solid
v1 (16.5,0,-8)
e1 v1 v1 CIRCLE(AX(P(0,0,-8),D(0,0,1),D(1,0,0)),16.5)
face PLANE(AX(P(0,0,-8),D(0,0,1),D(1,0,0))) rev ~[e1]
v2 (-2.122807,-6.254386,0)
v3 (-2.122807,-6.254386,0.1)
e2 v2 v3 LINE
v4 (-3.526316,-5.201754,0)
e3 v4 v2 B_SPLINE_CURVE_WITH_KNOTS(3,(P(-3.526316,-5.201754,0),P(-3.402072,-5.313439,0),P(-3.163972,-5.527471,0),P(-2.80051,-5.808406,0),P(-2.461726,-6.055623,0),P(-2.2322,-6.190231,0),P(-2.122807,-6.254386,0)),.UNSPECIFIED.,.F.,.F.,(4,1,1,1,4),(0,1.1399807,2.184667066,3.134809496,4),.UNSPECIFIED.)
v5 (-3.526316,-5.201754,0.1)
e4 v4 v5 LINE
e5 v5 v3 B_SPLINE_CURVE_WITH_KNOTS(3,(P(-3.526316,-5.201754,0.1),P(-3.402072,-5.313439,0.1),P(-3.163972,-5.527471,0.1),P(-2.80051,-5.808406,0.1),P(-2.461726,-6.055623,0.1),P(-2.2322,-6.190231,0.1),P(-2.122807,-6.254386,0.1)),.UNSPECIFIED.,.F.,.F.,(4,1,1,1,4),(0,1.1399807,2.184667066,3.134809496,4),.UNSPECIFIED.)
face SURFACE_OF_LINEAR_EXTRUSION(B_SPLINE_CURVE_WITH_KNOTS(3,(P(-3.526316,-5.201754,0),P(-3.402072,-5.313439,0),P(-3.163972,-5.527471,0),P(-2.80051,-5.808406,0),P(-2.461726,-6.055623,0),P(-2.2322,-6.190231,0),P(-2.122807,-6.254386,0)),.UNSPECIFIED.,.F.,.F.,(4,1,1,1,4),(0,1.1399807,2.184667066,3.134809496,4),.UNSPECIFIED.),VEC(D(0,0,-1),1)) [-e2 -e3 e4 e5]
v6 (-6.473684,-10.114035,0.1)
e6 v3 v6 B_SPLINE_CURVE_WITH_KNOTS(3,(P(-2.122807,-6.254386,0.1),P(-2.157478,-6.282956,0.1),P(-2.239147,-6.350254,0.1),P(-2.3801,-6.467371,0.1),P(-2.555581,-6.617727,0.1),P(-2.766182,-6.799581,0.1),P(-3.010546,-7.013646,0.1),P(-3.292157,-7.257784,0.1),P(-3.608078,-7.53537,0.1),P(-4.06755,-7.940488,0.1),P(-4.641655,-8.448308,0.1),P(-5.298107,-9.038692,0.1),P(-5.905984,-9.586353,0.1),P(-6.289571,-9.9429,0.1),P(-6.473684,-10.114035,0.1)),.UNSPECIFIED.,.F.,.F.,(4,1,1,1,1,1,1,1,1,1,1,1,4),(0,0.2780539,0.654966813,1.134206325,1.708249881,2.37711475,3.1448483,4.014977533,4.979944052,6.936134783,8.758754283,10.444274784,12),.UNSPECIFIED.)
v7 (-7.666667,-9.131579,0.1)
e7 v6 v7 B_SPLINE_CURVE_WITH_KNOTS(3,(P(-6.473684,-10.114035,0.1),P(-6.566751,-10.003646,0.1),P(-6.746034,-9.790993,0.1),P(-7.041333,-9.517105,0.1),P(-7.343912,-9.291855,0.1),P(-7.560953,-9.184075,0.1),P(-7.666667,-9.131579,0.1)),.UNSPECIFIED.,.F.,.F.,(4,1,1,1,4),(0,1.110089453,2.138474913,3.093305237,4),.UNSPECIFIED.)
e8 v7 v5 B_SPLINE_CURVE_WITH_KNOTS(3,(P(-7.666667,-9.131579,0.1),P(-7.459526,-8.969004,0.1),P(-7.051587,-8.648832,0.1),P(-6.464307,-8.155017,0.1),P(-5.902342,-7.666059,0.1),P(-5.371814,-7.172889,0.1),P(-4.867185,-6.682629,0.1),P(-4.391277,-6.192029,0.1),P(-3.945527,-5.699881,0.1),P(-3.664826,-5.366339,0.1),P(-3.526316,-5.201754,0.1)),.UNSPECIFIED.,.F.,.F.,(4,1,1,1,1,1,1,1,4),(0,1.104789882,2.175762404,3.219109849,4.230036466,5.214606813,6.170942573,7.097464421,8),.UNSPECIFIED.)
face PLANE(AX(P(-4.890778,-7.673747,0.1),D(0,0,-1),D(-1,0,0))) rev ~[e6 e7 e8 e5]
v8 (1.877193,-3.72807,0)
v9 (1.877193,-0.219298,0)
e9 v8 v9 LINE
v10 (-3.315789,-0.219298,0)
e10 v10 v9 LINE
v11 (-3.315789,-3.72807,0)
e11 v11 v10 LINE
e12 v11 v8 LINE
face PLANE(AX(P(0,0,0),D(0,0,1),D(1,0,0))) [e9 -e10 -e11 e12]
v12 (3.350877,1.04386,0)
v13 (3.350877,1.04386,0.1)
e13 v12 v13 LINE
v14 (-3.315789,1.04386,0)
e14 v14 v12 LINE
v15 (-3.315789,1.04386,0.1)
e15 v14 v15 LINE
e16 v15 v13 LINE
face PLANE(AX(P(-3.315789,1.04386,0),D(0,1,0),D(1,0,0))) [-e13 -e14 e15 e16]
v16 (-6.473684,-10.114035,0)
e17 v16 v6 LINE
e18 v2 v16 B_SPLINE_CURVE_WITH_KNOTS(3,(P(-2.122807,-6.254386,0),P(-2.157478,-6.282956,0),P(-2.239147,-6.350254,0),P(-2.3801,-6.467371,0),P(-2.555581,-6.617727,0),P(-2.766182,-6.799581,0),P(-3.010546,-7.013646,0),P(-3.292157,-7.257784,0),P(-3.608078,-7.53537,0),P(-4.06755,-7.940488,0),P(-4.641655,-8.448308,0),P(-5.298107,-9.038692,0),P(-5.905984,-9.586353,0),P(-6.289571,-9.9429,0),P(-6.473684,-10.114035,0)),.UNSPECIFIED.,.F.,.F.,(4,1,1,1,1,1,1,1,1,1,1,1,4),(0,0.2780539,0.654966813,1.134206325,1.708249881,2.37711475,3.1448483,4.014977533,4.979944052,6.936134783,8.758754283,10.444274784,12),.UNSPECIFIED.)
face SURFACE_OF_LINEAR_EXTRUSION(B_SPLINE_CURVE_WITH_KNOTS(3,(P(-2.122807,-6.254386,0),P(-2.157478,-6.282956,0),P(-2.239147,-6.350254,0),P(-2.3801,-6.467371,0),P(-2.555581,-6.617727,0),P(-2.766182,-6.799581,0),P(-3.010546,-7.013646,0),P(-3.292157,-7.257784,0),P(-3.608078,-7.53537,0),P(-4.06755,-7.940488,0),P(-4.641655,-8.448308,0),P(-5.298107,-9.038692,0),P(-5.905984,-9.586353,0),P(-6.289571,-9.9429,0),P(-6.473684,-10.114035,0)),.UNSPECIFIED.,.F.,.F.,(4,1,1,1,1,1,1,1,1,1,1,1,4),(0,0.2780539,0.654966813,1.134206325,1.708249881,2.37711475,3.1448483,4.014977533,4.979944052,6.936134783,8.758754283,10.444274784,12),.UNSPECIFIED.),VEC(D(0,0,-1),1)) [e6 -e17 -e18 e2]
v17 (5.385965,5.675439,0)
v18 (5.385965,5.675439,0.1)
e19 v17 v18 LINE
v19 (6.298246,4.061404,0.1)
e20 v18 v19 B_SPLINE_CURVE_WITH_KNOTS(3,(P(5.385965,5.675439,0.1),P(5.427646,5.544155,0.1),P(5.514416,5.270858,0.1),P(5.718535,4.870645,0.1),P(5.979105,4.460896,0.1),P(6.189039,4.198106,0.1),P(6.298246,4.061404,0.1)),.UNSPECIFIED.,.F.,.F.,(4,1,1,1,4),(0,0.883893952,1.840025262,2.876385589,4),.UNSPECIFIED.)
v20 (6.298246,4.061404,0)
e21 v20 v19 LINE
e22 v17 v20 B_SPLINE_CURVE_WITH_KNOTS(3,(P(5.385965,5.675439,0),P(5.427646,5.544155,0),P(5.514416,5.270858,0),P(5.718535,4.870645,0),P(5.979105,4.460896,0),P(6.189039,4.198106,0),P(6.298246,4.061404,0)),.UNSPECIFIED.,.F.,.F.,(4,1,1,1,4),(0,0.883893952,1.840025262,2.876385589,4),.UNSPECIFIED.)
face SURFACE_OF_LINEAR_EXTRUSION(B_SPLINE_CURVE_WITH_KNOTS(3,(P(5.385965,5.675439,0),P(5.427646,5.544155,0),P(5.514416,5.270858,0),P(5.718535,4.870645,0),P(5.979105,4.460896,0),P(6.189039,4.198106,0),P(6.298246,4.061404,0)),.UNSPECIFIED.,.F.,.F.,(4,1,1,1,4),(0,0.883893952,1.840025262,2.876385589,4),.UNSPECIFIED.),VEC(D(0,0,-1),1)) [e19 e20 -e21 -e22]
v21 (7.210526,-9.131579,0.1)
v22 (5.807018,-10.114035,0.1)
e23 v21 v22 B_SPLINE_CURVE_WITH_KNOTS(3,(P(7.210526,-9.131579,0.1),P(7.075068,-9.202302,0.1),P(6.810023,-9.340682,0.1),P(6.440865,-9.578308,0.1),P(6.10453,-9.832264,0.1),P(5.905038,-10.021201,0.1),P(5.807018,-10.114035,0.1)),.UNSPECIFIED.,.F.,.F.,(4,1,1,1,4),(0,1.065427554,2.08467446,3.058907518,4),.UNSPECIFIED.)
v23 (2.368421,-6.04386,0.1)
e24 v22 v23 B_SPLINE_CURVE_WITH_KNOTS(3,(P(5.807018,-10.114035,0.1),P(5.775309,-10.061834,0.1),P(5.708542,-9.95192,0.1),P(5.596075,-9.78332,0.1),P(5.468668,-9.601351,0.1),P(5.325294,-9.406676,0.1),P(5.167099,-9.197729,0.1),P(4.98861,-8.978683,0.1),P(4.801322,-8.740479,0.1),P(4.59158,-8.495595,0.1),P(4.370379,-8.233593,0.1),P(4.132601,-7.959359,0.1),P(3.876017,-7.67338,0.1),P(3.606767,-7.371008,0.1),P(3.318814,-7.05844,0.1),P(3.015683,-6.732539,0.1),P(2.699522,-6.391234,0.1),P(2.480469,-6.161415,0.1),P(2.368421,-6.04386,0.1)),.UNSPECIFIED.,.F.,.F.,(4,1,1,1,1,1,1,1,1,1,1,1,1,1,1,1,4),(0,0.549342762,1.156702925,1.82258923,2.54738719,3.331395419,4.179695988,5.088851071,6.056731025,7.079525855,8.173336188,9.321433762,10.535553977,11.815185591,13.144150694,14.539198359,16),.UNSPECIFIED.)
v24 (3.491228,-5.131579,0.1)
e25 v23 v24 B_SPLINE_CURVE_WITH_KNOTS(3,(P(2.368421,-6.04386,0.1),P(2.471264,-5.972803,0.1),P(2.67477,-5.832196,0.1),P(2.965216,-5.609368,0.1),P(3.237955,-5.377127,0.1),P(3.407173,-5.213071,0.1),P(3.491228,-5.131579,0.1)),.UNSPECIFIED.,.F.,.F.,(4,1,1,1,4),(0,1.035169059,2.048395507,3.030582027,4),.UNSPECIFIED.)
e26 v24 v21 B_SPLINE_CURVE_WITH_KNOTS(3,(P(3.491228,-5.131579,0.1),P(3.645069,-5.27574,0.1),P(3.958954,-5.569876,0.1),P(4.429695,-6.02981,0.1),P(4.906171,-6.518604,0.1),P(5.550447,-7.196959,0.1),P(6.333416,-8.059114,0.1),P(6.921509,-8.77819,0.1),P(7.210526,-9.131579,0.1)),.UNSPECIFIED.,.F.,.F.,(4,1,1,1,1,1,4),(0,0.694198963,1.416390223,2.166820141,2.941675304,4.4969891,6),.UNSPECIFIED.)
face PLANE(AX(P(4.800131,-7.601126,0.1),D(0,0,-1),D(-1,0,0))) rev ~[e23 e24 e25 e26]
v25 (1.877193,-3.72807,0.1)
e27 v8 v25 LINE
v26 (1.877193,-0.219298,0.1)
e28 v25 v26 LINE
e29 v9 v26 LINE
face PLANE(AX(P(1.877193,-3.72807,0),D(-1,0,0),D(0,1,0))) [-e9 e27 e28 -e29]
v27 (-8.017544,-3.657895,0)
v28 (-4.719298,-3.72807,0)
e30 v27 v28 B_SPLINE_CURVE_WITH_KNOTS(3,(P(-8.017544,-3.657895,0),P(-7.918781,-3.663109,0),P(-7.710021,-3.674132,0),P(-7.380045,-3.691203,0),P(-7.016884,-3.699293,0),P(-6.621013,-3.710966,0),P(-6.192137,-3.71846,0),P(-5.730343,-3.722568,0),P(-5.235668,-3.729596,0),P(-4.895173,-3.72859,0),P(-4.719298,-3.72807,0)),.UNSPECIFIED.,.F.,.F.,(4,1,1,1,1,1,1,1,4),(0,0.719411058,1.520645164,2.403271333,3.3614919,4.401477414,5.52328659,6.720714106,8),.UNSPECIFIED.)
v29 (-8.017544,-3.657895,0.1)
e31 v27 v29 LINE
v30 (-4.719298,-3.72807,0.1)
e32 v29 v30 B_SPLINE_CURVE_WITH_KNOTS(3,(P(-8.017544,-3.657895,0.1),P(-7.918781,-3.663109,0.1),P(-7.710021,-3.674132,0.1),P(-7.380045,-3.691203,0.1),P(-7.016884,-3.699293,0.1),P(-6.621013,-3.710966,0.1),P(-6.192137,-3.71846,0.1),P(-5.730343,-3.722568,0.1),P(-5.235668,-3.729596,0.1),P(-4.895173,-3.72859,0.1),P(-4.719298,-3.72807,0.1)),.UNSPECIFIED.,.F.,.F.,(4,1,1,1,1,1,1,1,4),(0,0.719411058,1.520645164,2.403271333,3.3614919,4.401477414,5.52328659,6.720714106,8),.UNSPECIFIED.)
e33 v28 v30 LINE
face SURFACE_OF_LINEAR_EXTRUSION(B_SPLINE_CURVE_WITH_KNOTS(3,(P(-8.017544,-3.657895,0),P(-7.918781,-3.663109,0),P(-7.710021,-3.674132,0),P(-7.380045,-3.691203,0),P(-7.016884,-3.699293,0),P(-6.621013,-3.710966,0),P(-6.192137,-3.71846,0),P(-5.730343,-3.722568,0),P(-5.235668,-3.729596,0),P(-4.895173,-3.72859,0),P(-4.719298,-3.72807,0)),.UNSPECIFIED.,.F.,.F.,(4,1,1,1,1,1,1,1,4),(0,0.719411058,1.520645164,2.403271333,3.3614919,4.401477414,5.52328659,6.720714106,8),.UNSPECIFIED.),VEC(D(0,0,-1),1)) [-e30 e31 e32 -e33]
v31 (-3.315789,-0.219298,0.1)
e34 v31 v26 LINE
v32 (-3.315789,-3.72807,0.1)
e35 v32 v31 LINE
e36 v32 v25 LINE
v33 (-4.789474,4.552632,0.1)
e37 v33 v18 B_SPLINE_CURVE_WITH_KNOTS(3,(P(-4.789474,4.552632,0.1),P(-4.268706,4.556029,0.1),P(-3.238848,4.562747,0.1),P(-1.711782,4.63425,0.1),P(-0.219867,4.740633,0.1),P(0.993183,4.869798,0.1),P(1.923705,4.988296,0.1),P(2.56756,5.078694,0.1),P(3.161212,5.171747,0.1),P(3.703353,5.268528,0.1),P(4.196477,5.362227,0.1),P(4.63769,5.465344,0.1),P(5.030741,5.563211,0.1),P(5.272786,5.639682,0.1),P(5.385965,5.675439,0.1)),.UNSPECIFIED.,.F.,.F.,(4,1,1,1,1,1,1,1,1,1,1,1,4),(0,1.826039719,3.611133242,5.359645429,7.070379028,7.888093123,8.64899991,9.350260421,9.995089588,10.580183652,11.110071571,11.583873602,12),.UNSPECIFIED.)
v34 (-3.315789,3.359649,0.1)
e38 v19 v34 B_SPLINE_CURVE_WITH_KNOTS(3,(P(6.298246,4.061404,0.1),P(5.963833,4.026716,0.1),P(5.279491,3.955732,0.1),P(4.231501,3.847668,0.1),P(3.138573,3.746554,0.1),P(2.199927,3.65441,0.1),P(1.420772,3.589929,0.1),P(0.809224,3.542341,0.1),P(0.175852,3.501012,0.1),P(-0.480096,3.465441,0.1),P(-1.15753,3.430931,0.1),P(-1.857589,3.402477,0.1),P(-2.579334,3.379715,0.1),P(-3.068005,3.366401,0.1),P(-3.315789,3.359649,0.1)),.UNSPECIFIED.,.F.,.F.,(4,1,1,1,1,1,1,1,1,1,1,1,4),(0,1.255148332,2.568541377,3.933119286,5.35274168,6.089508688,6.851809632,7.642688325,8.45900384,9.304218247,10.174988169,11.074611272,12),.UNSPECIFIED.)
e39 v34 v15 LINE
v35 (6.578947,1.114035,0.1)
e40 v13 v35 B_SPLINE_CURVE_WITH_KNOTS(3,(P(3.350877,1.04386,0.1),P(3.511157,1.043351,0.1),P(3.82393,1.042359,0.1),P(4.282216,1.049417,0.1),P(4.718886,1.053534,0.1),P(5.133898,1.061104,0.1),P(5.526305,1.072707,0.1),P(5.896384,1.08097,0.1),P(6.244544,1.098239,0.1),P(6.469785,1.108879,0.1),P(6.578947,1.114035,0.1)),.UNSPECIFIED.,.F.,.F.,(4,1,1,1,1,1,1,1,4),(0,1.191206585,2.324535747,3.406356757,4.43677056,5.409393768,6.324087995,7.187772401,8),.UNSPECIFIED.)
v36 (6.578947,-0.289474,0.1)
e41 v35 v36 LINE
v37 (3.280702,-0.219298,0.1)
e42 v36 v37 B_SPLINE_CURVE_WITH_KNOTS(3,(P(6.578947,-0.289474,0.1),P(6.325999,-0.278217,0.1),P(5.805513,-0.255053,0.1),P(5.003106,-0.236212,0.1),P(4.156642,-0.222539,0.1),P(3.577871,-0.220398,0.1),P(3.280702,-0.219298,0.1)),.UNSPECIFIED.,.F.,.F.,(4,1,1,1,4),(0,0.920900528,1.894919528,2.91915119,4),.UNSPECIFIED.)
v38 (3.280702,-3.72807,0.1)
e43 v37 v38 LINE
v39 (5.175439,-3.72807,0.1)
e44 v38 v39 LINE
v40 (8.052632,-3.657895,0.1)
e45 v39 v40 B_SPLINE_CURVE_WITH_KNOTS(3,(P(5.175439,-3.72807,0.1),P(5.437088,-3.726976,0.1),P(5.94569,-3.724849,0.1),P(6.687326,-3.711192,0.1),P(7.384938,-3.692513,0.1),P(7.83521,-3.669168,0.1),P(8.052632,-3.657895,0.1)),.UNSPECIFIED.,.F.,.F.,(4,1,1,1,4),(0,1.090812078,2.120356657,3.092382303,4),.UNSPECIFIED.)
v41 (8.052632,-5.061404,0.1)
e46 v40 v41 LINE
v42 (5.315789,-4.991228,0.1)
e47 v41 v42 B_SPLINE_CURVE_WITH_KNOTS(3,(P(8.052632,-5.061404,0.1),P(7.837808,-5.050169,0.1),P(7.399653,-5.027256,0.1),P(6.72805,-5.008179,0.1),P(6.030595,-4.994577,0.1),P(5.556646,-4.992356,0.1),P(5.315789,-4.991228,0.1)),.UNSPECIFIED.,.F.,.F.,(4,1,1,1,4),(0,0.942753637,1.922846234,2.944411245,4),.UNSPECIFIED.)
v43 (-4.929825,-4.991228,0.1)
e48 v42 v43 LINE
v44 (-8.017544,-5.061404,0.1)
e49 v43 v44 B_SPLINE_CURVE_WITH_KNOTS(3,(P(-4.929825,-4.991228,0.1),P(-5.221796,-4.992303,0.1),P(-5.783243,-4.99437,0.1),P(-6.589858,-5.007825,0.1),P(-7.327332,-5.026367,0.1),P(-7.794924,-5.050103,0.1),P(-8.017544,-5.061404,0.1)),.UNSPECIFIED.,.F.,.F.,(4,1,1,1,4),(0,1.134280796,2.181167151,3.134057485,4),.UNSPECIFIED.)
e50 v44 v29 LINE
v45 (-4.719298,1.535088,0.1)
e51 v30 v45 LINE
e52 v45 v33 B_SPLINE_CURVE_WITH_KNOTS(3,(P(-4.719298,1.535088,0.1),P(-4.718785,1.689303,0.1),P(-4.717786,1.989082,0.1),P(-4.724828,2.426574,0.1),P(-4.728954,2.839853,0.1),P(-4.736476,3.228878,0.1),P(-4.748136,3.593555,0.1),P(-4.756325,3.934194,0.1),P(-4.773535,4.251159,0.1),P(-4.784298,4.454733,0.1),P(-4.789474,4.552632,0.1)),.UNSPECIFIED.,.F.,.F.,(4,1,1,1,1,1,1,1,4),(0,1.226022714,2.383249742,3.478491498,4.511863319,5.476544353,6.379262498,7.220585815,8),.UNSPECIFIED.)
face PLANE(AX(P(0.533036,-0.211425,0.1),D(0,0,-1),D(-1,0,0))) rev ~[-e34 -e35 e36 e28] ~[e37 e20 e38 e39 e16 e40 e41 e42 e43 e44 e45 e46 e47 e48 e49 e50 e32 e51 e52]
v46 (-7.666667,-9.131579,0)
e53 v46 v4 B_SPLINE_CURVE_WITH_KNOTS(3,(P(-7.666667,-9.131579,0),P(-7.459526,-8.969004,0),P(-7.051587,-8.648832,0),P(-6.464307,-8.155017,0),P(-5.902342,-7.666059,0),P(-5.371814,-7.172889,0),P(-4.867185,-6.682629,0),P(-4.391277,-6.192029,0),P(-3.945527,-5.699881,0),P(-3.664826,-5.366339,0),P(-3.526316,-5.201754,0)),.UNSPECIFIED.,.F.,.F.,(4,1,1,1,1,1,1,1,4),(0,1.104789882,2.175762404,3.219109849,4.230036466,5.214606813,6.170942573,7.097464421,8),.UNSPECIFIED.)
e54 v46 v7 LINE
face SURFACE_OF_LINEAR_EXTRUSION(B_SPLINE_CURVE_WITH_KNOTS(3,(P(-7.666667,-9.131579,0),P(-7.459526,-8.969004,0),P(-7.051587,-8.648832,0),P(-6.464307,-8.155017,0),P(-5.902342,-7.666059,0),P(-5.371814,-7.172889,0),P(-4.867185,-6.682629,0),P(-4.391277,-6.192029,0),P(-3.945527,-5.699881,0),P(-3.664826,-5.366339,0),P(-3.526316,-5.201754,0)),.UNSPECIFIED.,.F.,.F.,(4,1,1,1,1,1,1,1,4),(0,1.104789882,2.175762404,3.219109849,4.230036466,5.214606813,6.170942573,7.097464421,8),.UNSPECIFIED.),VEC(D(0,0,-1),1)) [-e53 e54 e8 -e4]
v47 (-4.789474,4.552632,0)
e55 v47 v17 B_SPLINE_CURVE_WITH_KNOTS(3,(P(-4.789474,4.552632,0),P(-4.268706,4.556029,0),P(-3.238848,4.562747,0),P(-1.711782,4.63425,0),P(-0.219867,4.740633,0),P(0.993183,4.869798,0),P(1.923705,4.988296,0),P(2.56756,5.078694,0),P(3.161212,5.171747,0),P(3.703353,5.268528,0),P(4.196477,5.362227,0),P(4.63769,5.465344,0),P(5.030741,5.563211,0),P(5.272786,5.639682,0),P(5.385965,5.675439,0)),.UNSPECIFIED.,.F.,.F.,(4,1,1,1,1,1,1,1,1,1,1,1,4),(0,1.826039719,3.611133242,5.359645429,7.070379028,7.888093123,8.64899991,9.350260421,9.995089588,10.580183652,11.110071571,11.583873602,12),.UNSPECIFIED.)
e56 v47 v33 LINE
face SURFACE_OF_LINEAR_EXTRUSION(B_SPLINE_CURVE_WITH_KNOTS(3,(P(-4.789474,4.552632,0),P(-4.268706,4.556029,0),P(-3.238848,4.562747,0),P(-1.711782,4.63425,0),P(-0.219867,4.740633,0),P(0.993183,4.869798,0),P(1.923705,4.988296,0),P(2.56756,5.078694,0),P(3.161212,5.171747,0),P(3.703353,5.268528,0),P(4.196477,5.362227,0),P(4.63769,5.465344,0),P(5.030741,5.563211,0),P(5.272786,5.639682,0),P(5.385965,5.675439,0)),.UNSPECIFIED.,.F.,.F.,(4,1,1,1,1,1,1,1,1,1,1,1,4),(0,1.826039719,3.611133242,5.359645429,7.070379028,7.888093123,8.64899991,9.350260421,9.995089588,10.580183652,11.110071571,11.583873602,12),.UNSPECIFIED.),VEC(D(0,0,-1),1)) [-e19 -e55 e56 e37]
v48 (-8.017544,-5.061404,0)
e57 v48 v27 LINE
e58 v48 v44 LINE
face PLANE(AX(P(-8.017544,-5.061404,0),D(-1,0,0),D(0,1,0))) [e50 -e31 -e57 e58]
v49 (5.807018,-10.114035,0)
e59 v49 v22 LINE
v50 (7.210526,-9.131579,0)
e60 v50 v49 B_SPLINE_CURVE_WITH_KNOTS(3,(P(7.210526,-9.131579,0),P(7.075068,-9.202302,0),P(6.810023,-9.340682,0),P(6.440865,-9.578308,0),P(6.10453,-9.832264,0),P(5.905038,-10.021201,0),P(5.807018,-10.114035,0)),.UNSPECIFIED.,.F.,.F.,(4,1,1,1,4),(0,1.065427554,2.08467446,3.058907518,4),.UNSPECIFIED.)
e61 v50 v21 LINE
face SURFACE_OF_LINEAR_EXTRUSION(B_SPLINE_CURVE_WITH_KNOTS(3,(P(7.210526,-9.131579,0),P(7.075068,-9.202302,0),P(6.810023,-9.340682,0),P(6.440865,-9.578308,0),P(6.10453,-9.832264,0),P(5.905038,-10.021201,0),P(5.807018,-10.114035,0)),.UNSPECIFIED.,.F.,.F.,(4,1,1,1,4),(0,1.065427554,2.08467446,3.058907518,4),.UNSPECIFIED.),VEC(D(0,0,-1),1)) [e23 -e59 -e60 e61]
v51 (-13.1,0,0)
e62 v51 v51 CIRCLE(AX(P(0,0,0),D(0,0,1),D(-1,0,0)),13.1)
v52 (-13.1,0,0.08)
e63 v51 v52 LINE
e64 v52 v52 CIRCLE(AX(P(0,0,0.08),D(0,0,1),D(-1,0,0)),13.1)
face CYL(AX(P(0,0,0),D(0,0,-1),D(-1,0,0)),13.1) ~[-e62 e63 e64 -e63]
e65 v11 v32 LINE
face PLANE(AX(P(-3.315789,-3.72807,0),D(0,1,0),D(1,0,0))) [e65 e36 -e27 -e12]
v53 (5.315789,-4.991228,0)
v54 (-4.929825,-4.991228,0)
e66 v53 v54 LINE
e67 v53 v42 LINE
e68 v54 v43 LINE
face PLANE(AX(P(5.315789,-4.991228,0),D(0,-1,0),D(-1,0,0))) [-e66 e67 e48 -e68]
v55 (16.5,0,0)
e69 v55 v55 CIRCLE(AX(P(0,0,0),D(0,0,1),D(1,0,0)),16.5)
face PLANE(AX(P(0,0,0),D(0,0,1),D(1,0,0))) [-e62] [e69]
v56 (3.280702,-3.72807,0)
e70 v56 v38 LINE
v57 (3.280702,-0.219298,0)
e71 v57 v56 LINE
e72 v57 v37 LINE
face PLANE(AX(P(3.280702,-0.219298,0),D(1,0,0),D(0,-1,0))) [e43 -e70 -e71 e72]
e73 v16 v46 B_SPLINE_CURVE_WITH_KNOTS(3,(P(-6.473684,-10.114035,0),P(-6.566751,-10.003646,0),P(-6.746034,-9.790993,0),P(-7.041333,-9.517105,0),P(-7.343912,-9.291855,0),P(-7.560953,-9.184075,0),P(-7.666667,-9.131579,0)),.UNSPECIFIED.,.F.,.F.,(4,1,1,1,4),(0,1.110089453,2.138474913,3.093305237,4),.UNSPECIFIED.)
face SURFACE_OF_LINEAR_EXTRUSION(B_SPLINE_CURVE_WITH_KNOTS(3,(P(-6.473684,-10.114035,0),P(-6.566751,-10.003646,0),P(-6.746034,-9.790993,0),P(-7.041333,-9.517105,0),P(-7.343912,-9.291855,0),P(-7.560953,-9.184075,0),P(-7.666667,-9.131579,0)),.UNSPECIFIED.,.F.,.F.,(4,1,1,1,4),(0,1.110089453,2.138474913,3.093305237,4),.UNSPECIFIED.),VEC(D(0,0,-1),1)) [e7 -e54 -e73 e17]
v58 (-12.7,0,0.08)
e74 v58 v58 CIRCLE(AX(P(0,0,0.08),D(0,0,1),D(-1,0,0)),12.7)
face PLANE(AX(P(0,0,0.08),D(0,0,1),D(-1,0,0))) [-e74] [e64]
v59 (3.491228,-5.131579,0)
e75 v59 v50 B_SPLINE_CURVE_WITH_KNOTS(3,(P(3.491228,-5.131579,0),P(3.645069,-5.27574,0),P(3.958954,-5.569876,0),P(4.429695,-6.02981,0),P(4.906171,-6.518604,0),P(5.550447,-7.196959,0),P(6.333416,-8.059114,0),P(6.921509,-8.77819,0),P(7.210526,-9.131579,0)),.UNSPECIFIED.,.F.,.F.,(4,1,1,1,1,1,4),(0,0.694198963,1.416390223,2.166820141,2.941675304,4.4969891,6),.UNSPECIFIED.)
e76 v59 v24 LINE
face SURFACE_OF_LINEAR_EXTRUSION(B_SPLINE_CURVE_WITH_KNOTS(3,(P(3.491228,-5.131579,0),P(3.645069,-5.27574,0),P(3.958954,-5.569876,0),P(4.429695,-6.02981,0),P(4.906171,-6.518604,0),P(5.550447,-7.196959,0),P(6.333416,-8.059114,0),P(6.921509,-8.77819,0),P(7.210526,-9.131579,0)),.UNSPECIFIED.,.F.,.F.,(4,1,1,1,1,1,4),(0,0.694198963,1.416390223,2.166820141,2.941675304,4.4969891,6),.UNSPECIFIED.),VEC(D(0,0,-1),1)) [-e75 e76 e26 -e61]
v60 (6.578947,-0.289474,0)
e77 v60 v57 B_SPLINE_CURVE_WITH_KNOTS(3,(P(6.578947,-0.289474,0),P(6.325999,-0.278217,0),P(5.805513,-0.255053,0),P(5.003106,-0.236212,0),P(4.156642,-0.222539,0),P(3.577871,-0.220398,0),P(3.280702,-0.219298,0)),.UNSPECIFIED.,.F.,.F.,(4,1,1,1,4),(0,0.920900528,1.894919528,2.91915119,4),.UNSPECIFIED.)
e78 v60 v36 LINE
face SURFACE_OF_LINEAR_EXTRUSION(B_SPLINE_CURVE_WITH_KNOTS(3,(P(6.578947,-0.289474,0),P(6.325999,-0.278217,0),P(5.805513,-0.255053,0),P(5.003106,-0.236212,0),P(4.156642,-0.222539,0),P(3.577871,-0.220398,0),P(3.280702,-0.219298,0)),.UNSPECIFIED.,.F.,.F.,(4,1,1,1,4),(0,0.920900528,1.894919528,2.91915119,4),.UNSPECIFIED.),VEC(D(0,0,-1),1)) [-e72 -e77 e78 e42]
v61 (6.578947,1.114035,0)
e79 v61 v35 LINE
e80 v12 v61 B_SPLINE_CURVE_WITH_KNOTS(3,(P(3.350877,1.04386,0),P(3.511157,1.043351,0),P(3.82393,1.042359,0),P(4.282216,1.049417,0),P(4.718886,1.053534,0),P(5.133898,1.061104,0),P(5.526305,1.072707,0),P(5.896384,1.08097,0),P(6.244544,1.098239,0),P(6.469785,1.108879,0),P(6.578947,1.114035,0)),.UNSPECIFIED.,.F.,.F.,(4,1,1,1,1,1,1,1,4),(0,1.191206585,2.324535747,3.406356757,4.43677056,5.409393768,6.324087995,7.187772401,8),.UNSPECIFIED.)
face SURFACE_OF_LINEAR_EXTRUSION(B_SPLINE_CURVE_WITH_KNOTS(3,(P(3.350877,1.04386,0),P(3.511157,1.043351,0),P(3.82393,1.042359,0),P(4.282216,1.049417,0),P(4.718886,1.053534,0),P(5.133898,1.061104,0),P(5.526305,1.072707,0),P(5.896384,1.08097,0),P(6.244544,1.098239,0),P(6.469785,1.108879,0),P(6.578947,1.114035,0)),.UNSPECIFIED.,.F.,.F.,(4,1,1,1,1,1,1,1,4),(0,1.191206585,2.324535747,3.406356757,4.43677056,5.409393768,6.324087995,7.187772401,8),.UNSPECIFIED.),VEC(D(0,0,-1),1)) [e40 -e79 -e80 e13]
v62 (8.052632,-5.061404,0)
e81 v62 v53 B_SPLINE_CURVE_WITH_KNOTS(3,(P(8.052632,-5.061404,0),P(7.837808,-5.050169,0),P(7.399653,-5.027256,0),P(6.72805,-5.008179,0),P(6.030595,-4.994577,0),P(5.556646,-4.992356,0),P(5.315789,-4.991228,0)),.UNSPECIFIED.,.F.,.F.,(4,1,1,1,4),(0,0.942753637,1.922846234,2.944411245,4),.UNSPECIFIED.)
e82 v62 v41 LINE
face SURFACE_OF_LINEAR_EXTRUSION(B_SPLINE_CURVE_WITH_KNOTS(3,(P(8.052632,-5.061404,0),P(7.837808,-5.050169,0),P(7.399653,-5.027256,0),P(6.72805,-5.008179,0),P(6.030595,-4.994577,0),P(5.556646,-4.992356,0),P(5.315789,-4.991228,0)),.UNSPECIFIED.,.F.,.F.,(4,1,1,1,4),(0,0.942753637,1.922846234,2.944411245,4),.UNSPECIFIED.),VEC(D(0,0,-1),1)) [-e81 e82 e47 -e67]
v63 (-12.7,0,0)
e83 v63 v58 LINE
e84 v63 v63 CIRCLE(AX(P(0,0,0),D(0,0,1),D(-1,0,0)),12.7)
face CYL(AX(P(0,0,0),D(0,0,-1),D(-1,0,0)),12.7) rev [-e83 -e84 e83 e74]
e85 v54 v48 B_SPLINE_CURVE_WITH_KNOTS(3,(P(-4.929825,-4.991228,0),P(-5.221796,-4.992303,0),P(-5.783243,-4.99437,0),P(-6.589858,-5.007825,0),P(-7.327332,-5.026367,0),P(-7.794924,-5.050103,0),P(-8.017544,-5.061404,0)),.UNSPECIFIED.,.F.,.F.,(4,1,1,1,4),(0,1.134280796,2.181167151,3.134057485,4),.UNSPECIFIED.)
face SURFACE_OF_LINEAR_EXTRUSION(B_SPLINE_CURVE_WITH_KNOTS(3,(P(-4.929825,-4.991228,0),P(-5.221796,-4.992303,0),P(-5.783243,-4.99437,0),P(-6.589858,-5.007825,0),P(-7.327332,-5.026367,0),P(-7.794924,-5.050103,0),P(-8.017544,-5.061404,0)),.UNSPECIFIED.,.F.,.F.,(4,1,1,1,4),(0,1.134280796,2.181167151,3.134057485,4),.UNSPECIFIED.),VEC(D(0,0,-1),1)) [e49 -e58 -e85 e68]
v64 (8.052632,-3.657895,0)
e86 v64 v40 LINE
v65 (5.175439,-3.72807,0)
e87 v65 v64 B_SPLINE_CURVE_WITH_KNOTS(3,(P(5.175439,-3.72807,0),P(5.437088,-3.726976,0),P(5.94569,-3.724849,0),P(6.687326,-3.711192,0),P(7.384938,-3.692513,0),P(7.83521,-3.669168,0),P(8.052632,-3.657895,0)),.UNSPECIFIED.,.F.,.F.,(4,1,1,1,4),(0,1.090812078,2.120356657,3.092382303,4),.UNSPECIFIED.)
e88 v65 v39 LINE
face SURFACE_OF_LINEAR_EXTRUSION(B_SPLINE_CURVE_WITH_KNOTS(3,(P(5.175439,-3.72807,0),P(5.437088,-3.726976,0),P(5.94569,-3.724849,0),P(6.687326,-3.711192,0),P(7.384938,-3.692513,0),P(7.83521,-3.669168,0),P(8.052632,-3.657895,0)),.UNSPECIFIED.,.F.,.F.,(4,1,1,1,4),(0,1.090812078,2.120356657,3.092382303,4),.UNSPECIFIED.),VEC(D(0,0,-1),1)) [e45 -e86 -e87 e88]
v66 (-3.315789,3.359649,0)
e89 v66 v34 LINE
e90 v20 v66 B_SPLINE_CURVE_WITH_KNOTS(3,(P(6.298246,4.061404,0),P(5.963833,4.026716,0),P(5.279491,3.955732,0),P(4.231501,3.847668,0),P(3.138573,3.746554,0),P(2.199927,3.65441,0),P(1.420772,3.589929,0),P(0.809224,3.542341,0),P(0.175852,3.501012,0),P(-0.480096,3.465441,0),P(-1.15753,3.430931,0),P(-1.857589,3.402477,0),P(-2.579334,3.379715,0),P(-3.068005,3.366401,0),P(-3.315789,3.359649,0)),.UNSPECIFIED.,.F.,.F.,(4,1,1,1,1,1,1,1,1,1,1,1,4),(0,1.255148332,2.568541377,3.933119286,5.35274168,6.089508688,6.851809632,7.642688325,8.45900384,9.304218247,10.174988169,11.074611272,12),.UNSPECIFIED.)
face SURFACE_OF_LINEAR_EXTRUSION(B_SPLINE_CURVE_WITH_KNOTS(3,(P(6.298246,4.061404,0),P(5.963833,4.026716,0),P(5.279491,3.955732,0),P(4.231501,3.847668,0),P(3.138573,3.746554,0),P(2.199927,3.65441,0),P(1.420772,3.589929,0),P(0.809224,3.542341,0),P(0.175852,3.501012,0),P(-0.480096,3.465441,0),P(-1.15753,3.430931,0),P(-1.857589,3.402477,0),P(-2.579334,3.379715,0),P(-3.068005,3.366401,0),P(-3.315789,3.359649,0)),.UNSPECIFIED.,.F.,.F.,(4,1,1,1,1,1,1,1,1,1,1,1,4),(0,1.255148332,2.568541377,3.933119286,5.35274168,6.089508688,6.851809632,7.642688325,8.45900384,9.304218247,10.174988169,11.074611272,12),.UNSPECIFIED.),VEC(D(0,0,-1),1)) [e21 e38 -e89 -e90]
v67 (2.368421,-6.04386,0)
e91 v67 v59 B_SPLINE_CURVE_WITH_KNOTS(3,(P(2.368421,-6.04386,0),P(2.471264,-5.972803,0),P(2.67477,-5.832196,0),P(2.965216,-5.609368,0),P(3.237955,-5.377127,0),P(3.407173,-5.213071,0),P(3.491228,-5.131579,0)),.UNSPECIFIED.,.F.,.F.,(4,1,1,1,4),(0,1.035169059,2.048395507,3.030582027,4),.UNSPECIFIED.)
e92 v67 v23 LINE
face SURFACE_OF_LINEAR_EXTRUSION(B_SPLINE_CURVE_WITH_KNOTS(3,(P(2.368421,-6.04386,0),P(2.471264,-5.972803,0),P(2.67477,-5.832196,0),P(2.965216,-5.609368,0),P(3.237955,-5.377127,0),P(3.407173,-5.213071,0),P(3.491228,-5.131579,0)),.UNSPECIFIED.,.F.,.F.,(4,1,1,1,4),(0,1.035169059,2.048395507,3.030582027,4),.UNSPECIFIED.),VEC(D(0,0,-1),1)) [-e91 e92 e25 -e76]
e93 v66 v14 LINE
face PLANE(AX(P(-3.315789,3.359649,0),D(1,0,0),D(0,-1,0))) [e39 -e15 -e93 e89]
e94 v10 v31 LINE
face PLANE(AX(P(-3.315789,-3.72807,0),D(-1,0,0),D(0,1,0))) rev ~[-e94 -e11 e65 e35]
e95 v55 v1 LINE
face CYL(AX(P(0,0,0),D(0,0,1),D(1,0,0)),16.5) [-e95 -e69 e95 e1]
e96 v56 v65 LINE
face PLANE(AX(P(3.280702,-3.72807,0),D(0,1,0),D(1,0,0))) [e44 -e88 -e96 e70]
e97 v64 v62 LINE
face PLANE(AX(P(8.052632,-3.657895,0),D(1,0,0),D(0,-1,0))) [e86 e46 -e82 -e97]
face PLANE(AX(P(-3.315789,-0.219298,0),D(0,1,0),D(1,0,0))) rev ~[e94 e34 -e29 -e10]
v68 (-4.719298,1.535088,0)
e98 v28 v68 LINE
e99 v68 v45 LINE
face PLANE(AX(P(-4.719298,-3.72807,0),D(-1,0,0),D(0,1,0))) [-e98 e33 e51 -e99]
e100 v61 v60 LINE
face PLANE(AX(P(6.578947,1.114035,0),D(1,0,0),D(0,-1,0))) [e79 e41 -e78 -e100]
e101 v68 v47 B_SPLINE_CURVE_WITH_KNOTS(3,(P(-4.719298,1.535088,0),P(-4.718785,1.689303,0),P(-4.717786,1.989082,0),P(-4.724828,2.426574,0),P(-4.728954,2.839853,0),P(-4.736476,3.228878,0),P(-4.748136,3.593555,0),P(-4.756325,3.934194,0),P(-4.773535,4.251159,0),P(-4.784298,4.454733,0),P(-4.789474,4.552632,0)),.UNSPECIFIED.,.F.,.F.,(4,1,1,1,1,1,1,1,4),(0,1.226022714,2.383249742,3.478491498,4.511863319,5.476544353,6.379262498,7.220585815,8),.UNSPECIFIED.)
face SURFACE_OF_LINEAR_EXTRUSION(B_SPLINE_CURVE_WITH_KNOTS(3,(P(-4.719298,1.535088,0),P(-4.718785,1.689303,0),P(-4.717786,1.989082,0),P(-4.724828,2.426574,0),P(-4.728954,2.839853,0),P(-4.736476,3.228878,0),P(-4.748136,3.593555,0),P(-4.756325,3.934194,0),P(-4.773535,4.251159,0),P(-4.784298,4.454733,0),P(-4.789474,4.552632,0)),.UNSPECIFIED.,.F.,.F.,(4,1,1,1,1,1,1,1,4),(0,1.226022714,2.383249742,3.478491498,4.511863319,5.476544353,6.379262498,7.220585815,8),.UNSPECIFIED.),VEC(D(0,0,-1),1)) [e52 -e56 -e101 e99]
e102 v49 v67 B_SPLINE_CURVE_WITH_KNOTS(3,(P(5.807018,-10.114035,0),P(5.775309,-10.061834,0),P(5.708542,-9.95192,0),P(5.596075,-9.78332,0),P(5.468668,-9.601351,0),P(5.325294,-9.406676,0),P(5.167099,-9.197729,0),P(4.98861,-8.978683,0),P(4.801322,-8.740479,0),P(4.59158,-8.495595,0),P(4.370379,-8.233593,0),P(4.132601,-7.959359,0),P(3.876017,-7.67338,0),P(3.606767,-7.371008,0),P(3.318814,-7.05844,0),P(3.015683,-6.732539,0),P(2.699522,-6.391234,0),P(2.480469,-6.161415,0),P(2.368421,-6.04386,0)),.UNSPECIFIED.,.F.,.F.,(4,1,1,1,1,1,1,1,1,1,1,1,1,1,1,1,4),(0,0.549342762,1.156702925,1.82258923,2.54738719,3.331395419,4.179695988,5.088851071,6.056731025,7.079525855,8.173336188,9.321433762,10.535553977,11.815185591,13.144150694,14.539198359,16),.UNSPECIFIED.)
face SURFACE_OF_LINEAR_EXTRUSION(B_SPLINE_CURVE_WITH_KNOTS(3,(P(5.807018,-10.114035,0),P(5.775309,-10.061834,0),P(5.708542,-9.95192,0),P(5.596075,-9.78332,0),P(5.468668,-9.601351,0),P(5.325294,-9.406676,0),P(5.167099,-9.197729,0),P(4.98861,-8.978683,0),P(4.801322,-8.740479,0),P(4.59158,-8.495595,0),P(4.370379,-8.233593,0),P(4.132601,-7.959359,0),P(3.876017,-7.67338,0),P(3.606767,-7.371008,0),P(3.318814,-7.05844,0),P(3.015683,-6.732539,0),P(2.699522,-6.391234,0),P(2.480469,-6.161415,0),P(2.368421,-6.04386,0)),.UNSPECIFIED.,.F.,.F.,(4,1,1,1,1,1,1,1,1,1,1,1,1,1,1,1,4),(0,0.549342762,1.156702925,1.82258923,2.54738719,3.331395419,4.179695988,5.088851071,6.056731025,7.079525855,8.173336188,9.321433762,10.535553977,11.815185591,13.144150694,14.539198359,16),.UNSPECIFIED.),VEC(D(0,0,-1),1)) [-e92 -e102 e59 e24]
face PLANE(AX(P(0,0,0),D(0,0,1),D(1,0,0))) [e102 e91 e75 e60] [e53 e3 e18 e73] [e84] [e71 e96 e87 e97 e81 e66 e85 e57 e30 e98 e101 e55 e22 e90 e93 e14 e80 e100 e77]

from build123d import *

# Parameters (mm, degrees)
SKETCH_1_R               = 16.5
DIAMETER33_HEIGHT8_DEPTH = 8
SKETCH_2_W               = 5.192982456
SKETCH_2_H               = 3.508771929
CHARACTER_DEPTH          = 0.1
SKETCH_3_R               = 13.1
SKETCH_3_R_2             = 12.7
INK_RING_DEPTH           = 0.08


with BuildPart() as part:
    # 草图1 → Diameter33_Height8 (new body)
    with BuildSketch(Plane.XY):
        Circle(SKETCH_1_R)
    extrude(amount=-DIAMETER33_HEIGHT8_DEPTH)

    # 草图2 → Character_兵 (add)
    # profile 1 of 3: a face of its own
    with BuildSketch(Plane.XY):
        with BuildLine():
            add(Edge.make_bspline(
                [(5.385964912, 5.675438596), (5.427646333, 5.544154901), (5.514415642, 5.270858182), (5.718534697, 4.870645294), (5.979105034, 4.460896452), (6.189038604, 4.198106369), (6.298245614, 4.061403509)],
                knots=[0, 0, 0, 0, 0.883893952, 1.840025262, 2.876385589, 4, 4, 4, 4], degree=3))
            add(Edge.make_bspline(
                [(6.298245614, 4.061403509), (5.963833471, 4.026716097), (5.279490907, 3.955731615), (4.231500891, 3.847667949), (3.138573287, 3.746554234), (2.199926718, 3.654410468), (1.420771678, 3.589929187), (0.809223667, 3.542341458), (0.175852477, 3.501012073), (-0.480095669, 3.465441213), (-1.157529916, 3.430930645), (-1.857588828, 3.402476855), (-2.579333786, 3.379715375), (-3.06800455, 3.366400533), (-3.315789474, 3.359649123)],
                knots=[0, 0, 0, 0, 1.255148332, 2.568541377, 3.933119286, 5.35274168, 6.089508688, 6.851809632, 7.642688325, 8.45900384, 9.304218247, 10.174988169, 11.074611272, 12, 12, 12, 12], degree=3))
            Line((-3.315789474, 3.359649123), (-3.315789474, 1.043859649))
            Line((-3.315789474, 1.043859649), (3.350877193, 1.043859649))
            add(Edge.make_bspline(
                [(3.350877193, 1.043859649), (3.511157354, 1.043351179), (3.823930109, 1.042358944), (4.282215924, 1.049417071), (4.718886002, 1.053533845), (5.133897674, 1.061104446), (5.526304771, 1.072707016), (5.896383806, 1.080969698), (6.244544047, 1.09823882), (6.469784841, 1.108878558), (6.578947368, 1.114035088)],
                knots=[0, 0, 0, 0, 1.191206585, 2.324535747, 3.406356757, 4.43677056, 5.409393768, 6.324087995, 7.187772401, 8, 8, 8, 8], degree=3))
            Line((6.578947368, 1.114035088), (6.578947368, -0.289473684))
            add(Edge.make_bspline(
                [(6.578947368, -0.289473684), (6.325999471, -0.278216628), (5.805513386, -0.255053199), (5.003105502, -0.23621154), (4.156642469, -0.222539126), (3.577870773, -0.220397737), (3.280701754, -0.219298246)],
                knots=[0, 0, 0, 0, 0.920900528, 1.894919528, 2.91915119, 4, 4, 4, 4], degree=3))
            Line((3.280701754, -0.219298246), (3.280701754, -3.728070175))
            Line((3.280701754, -3.728070175), (5.175438596, -3.728070175))
            add(Edge.make_bspline(
                [(5.175438596, -3.728070175), (5.437087744, -3.726975877), (5.945690026, -3.724848744), (6.687326433, -3.711192023), (7.384937776, -3.692513148), (7.835209995, -3.669167553), (8.052631579, -3.657894737)],
                knots=[0, 0, 0, 0, 1.090812078, 2.120356657, 3.092382303, 4, 4, 4, 4], degree=3))
            Line((8.052631579, -3.657894737), (8.052631579, -5.061403509))
            add(Edge.make_bspline(
                [(8.052631579, -5.061403509), (7.837808318, -5.050169454), (7.399653446, -5.027256405), (6.728050321, -5.008178757), (6.030595105, -4.994576557), (5.556645778, -4.992356355), (5.315789474, -4.99122807)],
                knots=[0, 0, 0, 0, 0.942753637, 1.922846234, 2.944411245, 4, 4, 4, 4], degree=3))
            Line((5.315789474, -4.99122807), (-4.929824561, -4.99122807))
            add(Edge.make_bspline(
                [(-4.929824561, -4.99122807), (-5.221796086, -4.992303015), (-5.783243216, -4.994370081), (-6.589858446, -5.007824944), (-7.327331729, -5.026367125), (-7.794924107, -5.050102938), (-8.01754386, -5.061403509)],
                knots=[0, 0, 0, 0, 1.134280796, 2.181167151, 3.134057485, 4, 4, 4, 4], degree=3))
            Line((-8.01754386, -5.061403509), (-8.01754386, -3.657894737))
            add(Edge.make_bspline(
                [(-8.01754386, -3.657894737), (-7.918780668, -3.663109409), (-7.710021339, -3.67413185), (-7.380044631, -3.691202686), (-7.016884144, -3.699292609), (-6.621013356, -3.710966152), (-6.192136611, -3.718460184), (-5.730343207, -3.722568458), (-5.235668056, -3.729595696), (-4.895172776, -3.728589765), (-4.719298246, -3.728070175)],
                knots=[0, 0, 0, 0, 0.719411058, 1.520645164, 2.403271333, 3.3614919, 4.401477414, 5.52328659, 6.720714106, 8, 8, 8, 8], degree=3))
            Line((-4.719298246, -3.728070175), (-4.719298246, 1.535087719))
            add(Edge.make_bspline(
                [(-4.719298246, 1.535087719), (-4.718784553, 1.689303498), (-4.717785992, 1.989081562), (-4.724827935, 2.426573997), (-4.728954195, 2.839853385), (-4.736476359, 3.228877821), (-4.748135548, 3.593555392), (-4.756324903, 3.934194089), (-4.77353537, 4.251158894), (-4.784297949, 4.45473273), (-4.789473684, 4.552631579)],
                knots=[0, 0, 0, 0, 1.226022714, 2.383249742, 3.478491498, 4.511863319, 5.476544353, 6.379262498, 7.220585815, 8, 8, 8, 8], degree=3))
            add(Edge.make_bspline(
                [(-4.789473684, 4.552631579), (-4.268706026, 4.556028892), (-3.23884814, 4.562747339), (-1.711781979, 4.634250298), (-0.219866652, 4.740633472), (0.993183313, 4.869797657), (1.923704926, 4.988295648), (2.567560235, 5.078693798), (3.161212168, 5.171746835), (3.703352911, 5.268528417), (4.196476895, 5.362226591), (4.637690365, 5.465343924), (5.030740941, 5.563211427), (5.272785841, 5.639681531), (5.385964912, 5.675438596)],
                knots=[0, 0, 0, 0, 1.826039719, 3.611133242, 5.359645429, 7.070379028, 7.888093123, 8.64899991, 9.350260421, 9.995089588, 10.580183652, 11.110071571, 11.583873602, 12, 12, 12, 12], degree=3))
        make_face()
        with Locations((-0.719298246, -1.973684211)):
            Rectangle(SKETCH_2_W, SKETCH_2_H, mode=Mode.SUBTRACT)
    # profile 2 of 3: a face of its own
    with BuildSketch(Plane.XY):
        with BuildLine():
            add(Edge.make_bspline(
                [(-2.122807018, -6.254385965), (-2.157477947, -6.282955909), (-2.239146675, -6.350253527), (-2.380099943, -6.467370774), (-2.555580621, -6.61772706), (-2.766181537, -6.799581185), (-3.010546273, -7.013645708), (-3.292157091, -7.257784349), (-3.608078345, -7.535369573), (-4.067550245, -7.940488445), (-4.641654961, -8.448307776), (-5.298106508, -9.038691618), (-5.905984263, -9.586353364), (-6.289571124, -9.942900475), (-6.473684211, -10.114035088)],
                knots=[0, 0, 0, 0, 0.2780539, 0.654966813, 1.134206325, 1.708249881, 2.37711475, 3.1448483, 4.014977533, 4.979944052, 6.936134783, 8.758754283, 10.444274784, 12, 12, 12, 12], degree=3))
            add(Edge.make_bspline(
                [(-6.473684211, -10.114035088), (-6.56675088, -10.003646022), (-6.746034395, -9.790992666), (-7.041333181, -9.517105251), (-7.343912266, -9.291855461), (-7.560952619, -9.184075455), (-7.666666667, -9.131578947)],
                knots=[0, 0, 0, 0, 1.110089453, 2.138474913, 3.093305237, 4, 4, 4, 4], degree=3))
            add(Edge.make_bspline(
                [(-7.666666667, -9.131578947), (-7.459526486, -8.969004344), (-7.051586638, -8.648831509), (-6.464306615, -8.155016872), (-5.902342388, -7.666058703), (-5.371814437, -7.172889256), (-4.86718458, -6.682628792), (-4.391277213, -6.192029207), (-3.945527473, -5.699881064), (-3.664825977, -5.366338586), (-3.526315789, -5.201754386)],
                knots=[0, 0, 0, 0, 1.104789882, 2.175762404, 3.219109849, 4.230036466, 5.214606813, 6.170942573, 7.097464421, 8, 8, 8, 8], degree=3))
            add(Edge.make_bspline(
                [(-3.526315789, -5.201754386), (-3.402072492, -5.313438732), (-3.163971761, -5.527471401), (-2.800509792, -5.808406095), (-2.461726053, -6.055622784), (-2.232199656, -6.190231325), (-2.122807018, -6.254385965)],
                knots=[0, 0, 0, 0, 1.1399807, 2.184667066, 3.134809496, 4, 4, 4, 4], degree=3))
        make_face()
    # profile 3 of 3: a face of its own
    with BuildSketch(Plane.XY):
        with BuildLine():
            add(Edge.make_bspline(
                [(3.49122807, -5.131578947), (3.64506879, -5.27574038), (3.958953573, -5.569876289), (4.429694762, -6.029809869), (4.906171195, -6.5186042), (5.550446937, -7.196959293), (6.333416052, -8.059114332), (6.921508711, -8.778189908), (7.210526316, -9.131578947)],
                knots=[0, 0, 0, 0, 0.694198963, 1.416390223, 2.166820141, 2.941675304, 4.4969891, 6, 6, 6, 6], degree=3))
            add(Edge.make_bspline(
                [(7.210526316, -9.131578947), (7.075068051, -9.202301891), (6.810022921, -9.340682313), (6.440864575, -9.578307626), (6.104530191, -9.83226378), (5.905037831, -10.021201035), (5.807017544, -10.114035088)],
                knots=[0, 0, 0, 0, 1.065427554, 2.08467446, 3.058907518, 4, 4, 4, 4], degree=3))
            add(Edge.make_bspline(
                [(5.807017544, -10.114035088), (5.775308721, -10.061834257), (5.708542231, -9.951919541), (5.596075389, -9.783319805), (5.468667601, -9.601351476), (5.325294262, -9.406676418), (5.167099041, -9.197729098), (4.988610452, -8.978683169), (4.801321577, -8.740479229), (4.591580283, -8.495595111), (4.370378942, -8.233593029), (4.132600709, -7.959359408), (3.876016732, -7.67337978), (3.606767352, -7.371008487), (3.318813913, -7.058440113), (3.015682826, -6.732539485), (2.699522295, -6.391233684), (2.480469315, -6.161414802), (2.368421053, -6.043859649)],
                knots=[0, 0, 0, 0, 0.549342762, 1.156702925, 1.82258923, 2.54738719, 3.331395419, 4.179695988, 5.088851071, 6.056731025, 7.079525855, 8.173336188, 9.321433762, 10.535553977, 11.815185591, 13.144150694, 14.539198359, 16, 16, 16, 16], degree=3))
            add(Edge.make_bspline(
                [(2.368421053, -6.043859649), (2.471264109, -5.972803187), (2.674770245, -5.832196455), (2.965216422, -5.609367892), (3.237954519, -5.37712719), (3.407172595, -5.213070577), (3.49122807, -5.131578947)],
                knots=[0, 0, 0, 0, 1.035169059, 2.048395507, 3.030582027, 4, 4, 4, 4], degree=3))
        make_face()
    extrude(amount=CHARACTER_DEPTH)

    # 草图3 → Ink_ring (add)
    with BuildSketch(Plane.XY):
        with Locations(Location((0, 0, 0), (0, 0, 180))):
            Circle(SKETCH_3_R)
        with Locations(Location((0, 0, 0), (0, 0, 180))):
            Circle(SKETCH_3_R_2, mode=Mode.SUBTRACT)
    extrude(amount=INK_RING_DEPTH)


solid = part.part
